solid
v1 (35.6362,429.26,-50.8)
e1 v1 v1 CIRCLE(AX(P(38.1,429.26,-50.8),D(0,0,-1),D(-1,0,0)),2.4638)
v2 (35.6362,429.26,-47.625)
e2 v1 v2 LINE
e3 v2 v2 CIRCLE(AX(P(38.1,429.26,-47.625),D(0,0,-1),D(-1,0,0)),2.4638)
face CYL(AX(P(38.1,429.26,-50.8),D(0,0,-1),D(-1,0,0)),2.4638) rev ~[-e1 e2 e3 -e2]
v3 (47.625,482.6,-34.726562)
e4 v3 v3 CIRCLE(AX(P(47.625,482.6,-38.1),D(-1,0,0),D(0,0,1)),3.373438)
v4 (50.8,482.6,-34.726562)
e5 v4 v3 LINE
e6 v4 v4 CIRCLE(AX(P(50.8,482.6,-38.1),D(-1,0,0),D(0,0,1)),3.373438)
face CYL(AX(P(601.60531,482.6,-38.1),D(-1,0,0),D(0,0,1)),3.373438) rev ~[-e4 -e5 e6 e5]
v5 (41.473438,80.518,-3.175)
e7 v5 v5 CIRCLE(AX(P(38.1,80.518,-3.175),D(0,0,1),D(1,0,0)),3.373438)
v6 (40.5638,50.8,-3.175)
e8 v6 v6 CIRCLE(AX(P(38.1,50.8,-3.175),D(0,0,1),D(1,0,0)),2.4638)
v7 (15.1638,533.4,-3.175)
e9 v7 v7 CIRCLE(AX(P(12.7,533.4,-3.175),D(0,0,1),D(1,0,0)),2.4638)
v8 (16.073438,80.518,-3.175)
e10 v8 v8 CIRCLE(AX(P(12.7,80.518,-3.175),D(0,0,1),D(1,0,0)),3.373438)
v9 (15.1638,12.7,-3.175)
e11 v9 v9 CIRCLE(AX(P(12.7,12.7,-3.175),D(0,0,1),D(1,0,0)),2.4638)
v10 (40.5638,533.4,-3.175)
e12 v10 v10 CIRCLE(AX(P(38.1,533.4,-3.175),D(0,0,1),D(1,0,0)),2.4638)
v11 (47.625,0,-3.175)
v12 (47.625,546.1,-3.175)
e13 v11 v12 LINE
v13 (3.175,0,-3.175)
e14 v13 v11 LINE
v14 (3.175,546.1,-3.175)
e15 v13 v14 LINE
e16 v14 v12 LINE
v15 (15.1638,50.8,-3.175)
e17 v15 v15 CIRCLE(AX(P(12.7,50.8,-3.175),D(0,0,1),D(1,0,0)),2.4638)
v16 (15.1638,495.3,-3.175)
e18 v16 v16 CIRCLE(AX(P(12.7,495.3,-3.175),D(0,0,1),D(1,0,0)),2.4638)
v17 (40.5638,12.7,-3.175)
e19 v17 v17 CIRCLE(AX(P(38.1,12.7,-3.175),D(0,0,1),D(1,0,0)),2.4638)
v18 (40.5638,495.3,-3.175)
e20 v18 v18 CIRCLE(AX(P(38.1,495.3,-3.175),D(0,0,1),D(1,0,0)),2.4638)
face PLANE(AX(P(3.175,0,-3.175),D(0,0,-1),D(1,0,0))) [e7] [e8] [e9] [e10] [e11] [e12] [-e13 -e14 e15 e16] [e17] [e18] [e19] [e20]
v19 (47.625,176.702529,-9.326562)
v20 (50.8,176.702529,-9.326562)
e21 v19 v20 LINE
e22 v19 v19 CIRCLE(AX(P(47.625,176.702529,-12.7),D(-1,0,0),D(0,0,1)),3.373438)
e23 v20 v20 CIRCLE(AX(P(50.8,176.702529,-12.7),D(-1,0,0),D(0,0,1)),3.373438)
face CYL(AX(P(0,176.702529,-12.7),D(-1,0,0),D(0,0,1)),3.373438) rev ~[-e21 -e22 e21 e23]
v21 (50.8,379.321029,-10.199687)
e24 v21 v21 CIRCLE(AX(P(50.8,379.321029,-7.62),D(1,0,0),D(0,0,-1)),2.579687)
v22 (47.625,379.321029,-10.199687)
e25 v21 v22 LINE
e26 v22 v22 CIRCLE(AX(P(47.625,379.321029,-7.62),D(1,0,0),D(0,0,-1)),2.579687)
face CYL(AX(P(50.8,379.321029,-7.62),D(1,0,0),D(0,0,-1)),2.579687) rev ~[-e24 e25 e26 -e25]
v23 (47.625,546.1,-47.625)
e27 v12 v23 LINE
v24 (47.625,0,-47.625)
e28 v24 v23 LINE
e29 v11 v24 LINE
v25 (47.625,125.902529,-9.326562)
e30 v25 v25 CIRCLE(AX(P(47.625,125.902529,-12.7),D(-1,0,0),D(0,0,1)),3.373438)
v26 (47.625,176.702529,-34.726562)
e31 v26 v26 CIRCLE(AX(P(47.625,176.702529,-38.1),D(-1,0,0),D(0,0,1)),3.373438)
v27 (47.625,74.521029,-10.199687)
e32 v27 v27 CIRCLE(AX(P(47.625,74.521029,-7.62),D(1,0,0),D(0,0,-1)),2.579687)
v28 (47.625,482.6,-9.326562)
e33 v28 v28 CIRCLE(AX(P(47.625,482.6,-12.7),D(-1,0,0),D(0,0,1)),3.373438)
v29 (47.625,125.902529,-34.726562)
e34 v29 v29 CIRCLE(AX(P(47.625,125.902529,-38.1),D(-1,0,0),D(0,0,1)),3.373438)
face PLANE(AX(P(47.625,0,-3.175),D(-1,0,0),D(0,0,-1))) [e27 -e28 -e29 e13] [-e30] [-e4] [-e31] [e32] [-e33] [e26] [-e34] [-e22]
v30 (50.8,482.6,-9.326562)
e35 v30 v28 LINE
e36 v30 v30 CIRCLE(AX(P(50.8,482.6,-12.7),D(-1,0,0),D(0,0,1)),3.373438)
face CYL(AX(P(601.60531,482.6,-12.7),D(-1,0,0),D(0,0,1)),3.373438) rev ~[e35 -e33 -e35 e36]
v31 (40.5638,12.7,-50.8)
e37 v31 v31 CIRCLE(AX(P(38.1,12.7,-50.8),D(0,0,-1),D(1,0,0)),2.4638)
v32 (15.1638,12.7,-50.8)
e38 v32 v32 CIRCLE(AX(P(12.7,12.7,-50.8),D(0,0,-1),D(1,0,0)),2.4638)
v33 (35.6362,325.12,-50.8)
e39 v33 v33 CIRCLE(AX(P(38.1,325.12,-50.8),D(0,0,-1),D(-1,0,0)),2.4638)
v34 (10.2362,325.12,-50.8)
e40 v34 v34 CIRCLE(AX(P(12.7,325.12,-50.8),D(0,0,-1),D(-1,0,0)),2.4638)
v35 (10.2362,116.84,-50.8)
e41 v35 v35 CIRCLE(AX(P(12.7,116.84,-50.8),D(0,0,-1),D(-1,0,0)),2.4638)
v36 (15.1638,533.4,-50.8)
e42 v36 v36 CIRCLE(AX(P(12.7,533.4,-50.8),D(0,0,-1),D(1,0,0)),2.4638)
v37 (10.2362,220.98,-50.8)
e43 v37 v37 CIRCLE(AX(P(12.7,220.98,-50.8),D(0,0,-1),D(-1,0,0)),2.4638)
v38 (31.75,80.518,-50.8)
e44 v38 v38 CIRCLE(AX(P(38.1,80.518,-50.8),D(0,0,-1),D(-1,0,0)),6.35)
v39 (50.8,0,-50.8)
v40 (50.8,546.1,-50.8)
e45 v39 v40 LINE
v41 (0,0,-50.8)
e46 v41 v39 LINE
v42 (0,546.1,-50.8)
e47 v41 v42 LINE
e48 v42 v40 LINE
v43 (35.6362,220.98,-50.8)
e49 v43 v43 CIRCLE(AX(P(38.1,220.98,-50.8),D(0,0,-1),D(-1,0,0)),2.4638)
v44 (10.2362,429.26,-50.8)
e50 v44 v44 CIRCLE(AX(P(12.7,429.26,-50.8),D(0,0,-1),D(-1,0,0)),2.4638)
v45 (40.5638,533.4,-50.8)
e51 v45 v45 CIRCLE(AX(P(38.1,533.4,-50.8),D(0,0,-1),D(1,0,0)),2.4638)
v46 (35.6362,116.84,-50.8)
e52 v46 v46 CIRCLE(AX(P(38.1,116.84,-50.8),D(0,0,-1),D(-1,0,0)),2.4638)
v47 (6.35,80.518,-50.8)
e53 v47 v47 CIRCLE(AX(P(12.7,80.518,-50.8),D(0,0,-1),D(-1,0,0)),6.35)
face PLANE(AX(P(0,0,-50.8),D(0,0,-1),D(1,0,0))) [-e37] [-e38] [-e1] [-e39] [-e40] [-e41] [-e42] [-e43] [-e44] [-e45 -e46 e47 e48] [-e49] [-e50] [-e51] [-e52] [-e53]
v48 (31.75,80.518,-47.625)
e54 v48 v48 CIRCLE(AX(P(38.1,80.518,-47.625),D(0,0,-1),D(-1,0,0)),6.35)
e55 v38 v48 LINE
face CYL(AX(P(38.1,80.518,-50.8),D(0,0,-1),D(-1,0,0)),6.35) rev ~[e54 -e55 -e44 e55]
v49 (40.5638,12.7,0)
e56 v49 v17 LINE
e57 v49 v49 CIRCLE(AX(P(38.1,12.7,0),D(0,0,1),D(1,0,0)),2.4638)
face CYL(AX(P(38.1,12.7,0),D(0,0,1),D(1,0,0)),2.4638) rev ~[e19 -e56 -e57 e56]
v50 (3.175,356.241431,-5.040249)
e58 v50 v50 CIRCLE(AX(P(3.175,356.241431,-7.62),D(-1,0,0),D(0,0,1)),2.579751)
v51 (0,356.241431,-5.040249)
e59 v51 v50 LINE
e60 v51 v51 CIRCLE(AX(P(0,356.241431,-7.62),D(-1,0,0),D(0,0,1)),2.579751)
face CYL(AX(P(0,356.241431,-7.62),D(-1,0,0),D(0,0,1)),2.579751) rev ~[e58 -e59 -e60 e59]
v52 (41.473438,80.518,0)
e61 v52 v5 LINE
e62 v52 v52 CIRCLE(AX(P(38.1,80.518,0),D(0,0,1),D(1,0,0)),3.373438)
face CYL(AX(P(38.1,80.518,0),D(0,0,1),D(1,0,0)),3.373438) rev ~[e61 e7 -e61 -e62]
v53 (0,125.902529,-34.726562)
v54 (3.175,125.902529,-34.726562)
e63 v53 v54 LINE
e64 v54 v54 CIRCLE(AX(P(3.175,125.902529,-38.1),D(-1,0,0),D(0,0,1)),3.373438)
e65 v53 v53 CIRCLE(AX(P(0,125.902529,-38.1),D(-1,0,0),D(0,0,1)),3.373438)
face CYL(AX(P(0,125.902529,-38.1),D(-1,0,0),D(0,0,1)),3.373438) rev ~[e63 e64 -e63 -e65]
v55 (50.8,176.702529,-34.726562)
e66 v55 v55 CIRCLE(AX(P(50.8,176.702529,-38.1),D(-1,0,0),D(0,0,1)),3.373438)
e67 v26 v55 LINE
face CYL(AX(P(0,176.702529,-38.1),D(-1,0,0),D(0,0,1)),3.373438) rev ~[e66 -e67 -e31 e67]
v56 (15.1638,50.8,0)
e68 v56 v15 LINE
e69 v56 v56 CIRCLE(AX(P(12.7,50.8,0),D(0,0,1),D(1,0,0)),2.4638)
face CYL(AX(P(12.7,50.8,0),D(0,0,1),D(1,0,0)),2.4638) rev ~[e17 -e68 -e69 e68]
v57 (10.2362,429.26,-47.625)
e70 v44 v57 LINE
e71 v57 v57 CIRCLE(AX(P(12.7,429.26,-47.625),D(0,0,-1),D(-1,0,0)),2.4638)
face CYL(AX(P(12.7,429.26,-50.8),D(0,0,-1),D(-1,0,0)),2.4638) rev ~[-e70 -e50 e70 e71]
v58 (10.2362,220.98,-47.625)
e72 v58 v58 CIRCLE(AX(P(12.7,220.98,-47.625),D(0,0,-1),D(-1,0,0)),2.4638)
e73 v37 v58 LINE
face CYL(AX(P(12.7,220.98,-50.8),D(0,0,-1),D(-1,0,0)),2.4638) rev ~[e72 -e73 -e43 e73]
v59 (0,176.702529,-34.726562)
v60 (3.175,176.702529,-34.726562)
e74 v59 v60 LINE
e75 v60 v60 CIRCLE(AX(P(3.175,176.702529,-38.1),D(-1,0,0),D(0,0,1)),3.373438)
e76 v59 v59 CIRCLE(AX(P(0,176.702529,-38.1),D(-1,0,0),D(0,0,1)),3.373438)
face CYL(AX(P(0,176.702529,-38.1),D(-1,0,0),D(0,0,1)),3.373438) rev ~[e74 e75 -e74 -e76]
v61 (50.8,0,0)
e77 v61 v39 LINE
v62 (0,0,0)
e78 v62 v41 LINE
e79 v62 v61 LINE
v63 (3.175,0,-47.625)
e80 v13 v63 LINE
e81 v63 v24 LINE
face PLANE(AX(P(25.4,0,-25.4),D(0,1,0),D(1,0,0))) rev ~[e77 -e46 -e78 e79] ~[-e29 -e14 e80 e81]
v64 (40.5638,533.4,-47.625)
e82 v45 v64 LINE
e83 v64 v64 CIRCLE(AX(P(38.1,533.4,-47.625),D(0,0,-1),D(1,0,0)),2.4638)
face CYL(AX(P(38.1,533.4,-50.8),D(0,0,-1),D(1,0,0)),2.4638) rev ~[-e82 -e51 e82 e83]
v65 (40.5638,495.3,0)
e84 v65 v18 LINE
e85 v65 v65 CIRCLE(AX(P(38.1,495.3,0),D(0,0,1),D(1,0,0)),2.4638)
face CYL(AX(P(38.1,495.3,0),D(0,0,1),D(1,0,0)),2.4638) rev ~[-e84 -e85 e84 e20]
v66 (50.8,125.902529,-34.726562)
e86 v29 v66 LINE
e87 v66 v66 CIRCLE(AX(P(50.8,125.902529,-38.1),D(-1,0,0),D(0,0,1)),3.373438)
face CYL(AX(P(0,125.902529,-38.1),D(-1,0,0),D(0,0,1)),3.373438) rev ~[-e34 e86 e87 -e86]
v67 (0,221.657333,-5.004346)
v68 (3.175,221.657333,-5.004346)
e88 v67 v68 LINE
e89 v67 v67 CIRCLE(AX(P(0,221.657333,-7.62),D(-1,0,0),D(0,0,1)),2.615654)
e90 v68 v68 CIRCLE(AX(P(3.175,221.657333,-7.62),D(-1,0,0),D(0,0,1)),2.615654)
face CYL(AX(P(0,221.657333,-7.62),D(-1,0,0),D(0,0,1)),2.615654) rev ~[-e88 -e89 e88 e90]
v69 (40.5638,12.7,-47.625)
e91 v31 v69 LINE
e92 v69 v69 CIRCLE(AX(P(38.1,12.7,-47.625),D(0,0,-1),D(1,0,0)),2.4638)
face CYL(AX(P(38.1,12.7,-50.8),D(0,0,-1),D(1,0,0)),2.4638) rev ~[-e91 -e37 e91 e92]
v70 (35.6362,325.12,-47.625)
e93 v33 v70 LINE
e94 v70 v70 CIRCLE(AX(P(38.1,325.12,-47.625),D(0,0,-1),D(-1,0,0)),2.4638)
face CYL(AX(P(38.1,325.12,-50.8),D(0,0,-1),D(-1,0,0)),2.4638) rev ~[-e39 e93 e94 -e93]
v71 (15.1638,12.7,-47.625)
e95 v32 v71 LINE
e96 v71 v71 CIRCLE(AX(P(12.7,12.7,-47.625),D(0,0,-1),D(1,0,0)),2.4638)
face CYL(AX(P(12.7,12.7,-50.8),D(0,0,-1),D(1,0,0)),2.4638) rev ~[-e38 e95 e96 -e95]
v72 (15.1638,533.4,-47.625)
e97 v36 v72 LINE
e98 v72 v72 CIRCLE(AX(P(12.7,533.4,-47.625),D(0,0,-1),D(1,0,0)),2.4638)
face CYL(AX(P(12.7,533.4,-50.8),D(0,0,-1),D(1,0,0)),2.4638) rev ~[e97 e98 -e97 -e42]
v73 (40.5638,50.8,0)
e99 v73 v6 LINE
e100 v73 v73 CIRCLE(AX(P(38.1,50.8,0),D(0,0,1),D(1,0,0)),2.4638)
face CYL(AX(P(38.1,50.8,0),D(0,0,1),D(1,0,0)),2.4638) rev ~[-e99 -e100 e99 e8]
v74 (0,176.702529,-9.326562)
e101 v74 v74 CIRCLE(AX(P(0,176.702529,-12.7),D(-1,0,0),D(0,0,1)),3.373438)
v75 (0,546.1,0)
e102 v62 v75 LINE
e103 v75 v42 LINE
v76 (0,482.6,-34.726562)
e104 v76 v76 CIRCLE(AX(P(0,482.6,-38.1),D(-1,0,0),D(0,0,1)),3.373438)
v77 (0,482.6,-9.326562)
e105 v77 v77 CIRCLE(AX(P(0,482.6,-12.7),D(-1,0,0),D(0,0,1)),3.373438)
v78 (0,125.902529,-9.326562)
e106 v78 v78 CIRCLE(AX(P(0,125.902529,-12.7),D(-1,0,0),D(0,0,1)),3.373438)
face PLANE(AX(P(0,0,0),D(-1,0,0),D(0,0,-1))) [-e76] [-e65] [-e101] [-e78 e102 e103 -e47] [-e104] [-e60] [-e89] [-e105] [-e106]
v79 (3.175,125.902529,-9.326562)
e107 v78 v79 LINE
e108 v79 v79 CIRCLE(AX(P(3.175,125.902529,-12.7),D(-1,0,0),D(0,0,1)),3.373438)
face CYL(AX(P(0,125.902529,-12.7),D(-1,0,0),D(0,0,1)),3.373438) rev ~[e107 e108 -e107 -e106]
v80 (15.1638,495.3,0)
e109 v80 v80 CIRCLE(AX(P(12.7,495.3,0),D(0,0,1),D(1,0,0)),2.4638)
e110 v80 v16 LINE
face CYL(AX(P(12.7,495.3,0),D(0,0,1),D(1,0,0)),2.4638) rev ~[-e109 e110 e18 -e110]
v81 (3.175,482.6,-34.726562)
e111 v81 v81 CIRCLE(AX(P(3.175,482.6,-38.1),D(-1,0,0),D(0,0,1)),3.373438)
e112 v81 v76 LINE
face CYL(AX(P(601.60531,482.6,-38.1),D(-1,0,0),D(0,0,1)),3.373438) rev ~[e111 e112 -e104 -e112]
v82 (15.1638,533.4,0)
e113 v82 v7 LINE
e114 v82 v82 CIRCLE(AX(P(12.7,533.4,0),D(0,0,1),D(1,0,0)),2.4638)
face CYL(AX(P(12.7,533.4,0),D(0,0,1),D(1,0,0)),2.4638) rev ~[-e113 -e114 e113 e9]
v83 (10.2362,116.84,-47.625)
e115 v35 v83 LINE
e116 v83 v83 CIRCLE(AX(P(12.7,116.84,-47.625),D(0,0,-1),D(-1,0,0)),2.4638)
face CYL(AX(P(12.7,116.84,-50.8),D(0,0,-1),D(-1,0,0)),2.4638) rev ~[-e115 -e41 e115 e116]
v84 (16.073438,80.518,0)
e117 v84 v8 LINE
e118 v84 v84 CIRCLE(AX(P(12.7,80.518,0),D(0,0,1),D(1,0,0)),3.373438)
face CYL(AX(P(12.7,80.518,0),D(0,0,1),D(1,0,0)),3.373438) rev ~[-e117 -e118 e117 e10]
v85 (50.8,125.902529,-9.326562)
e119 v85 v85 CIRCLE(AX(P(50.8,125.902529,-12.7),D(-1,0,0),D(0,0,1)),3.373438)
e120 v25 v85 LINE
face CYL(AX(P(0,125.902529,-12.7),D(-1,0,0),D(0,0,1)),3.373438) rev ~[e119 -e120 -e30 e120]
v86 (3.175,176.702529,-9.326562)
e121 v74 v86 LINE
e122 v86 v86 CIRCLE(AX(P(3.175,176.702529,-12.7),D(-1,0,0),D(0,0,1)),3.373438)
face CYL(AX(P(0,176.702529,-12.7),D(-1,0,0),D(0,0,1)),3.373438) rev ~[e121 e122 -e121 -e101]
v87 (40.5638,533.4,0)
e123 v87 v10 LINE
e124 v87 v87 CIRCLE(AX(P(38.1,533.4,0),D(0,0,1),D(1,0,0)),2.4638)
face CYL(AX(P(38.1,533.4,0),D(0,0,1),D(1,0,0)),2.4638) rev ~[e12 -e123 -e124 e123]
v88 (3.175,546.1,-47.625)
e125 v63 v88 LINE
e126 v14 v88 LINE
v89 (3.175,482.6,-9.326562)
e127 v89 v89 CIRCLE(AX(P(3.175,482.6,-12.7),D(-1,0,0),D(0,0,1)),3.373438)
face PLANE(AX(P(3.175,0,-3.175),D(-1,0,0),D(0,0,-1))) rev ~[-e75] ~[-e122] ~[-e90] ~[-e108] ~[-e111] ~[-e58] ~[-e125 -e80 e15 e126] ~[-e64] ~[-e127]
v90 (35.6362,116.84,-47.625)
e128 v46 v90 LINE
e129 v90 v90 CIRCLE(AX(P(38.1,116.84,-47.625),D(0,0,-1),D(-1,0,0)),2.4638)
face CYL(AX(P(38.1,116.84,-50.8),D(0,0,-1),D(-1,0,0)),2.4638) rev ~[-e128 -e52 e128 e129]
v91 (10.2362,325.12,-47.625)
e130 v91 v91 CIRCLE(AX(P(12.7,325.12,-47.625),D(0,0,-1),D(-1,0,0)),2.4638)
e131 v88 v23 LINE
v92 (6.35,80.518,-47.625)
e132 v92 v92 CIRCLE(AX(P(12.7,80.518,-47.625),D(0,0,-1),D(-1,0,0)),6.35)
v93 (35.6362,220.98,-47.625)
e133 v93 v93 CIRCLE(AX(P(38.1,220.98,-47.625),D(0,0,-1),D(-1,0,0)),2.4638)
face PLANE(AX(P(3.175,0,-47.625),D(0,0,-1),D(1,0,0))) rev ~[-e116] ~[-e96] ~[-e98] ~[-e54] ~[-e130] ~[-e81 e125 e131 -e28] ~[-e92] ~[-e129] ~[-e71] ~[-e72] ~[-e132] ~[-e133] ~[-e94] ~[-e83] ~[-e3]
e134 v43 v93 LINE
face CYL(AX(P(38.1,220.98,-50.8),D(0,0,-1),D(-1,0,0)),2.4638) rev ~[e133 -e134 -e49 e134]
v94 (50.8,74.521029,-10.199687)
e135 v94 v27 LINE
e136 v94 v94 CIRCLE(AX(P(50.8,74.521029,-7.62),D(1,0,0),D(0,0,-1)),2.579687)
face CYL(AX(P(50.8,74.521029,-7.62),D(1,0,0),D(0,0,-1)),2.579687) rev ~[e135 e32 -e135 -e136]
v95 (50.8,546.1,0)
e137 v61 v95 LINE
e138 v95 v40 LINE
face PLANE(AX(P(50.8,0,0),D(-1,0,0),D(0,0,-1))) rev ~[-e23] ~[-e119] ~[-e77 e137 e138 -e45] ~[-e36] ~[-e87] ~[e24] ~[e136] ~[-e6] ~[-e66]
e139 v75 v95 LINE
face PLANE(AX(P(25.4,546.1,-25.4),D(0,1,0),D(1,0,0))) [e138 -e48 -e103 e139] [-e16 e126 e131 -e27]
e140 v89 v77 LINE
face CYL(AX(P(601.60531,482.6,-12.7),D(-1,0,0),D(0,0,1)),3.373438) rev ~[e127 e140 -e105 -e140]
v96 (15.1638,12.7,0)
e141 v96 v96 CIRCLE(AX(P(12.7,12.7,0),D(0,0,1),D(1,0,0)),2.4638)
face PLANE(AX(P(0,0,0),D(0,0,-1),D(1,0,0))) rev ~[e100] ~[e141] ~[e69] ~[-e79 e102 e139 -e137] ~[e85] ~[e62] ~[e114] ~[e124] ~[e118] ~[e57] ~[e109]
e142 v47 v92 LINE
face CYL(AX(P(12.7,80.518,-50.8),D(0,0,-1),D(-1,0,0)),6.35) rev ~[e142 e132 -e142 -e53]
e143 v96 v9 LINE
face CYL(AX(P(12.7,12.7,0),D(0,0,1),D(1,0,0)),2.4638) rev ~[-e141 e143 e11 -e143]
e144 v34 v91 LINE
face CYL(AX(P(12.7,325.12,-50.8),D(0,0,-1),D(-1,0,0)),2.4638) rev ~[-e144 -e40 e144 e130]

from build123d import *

# Parameters (mm, degrees)
SKETCH1_W                   = 50.8
SKETCH1_H                   = 50.8
SKETCH1_W_2                 = 44.45
SKETCH1_H_2                 = 44.45
BOSS_EXTRUDE1_DEPTH         = 546.1
CUT_EXTRUDE1_REACH          = 552.805
SKETCH2_R                   = 2.4638
CUT_EXTRUDE2_REACH          = 552.805
SKETCH3_R                   = 2.4638
F_1_4_0_25_DIAMETER_HOLE1_D = 6.746875
CUT_EXTRUDE3_REACH          = 552.805
SKETCH10_R                  = 2.579751
SKETCH10_R_2                = 2.61565382
SKETCH12_R                  = 3.3734375
CUT_EXTRUDE4_DEPTH          = 551.805310432
CUT_EXTRUDE5_REACH          = 552.805
SKETCH13_R                  = 2.5796875
SKETCH14_R                  = 3.3734375
CUT_EXTRUDE6_DEPTH          = 551.805310432
CUT_EXTRUDE7_REACH          = 552.805
SKETCH15_R                  = 6.35


with BuildPart() as part:
    # Sketch1 → Boss-Extrude1 (new body)
    with BuildSketch(Plane(origin=(0, 0, 0), x_dir=(1, 0, 0), z_dir=(0, 1, 0))):
        with Locations((25.4, 25.4)):
            Rectangle(SKETCH1_W, SKETCH1_H)
        with Locations((25.4, 25.4)):
            Rectangle(SKETCH1_W_2, SKETCH1_H_2, mode=Mode.SUBTRACT)
    extrude(amount=BOSS_EXTRUDE1_DEPTH)

    # Sketch2 → Cut-Extrude1 (cut, up to next)
    with BuildSketch(Plane.XY, mode=Mode.PRIVATE) as cut_extrude1_sk1:
        with Locations((38.1, 12.7)):
            Circle(SKETCH2_R)
    cut_extrude1_tool1 = extrude(cut_extrude1_sk1.sketch, amount=-CUT_EXTRUDE1_REACH, mode=Mode.PRIVATE) & part.part
    # Sketch2 → Cut-Extrude1 (cut, up to next)
    with BuildSketch(Plane.XY, mode=Mode.PRIVATE) as cut_extrude1_sk2:
        with Locations((12.7, 12.7)):
            Circle(SKETCH2_R)
    cut_extrude1_tool2 = extrude(cut_extrude1_sk2.sketch, amount=-CUT_EXTRUDE1_REACH, mode=Mode.PRIVATE) & part.part
    # Sketch2 → Cut-Extrude1 (cut, up to next)
    with BuildSketch(Plane.XY, mode=Mode.PRIVATE) as cut_extrude1_sk3:
        with Locations((12.7, 50.8)):
            Circle(SKETCH2_R)
    cut_extrude1_tool3 = extrude(cut_extrude1_sk3.sketch, amount=-CUT_EXTRUDE1_REACH, mode=Mode.PRIVATE) & part.part
    # Sketch2 → Cut-Extrude1 (cut, up to next)
    with BuildSketch(Plane.XY, mode=Mode.PRIVATE) as cut_extrude1_sk4:
        with Locations((38.1, 50.8)):
            Circle(SKETCH2_R)
    cut_extrude1_tool4 = extrude(cut_extrude1_sk4.sketch, amount=-CUT_EXTRUDE1_REACH, mode=Mode.PRIVATE) & part.part
    # Sketch2 → Cut-Extrude1 (cut, up to next)
    with BuildSketch(Plane.XY, mode=Mode.PRIVATE) as cut_extrude1_sk5:
        with Locations((38.1, 495.3)):
            Circle(SKETCH2_R)
    cut_extrude1_tool5 = extrude(cut_extrude1_sk5.sketch, amount=-CUT_EXTRUDE1_REACH, mode=Mode.PRIVATE) & part.part
    # Sketch2 → Cut-Extrude1 (cut, up to next)
    with BuildSketch(Plane.XY, mode=Mode.PRIVATE) as cut_extrude1_sk6:
        with Locations((12.7, 495.3)):
            Circle(SKETCH2_R)
    cut_extrude1_tool6 = extrude(cut_extrude1_sk6.sketch, amount=-CUT_EXTRUDE1_REACH, mode=Mode.PRIVATE) & part.part
    # Sketch2 → Cut-Extrude1 (cut, up to next)
    with BuildSketch(Plane.XY, mode=Mode.PRIVATE) as cut_extrude1_sk7:
        with Locations((12.7, 533.4)):
            Circle(SKETCH2_R)
    cut_extrude1_tool7 = extrude(cut_extrude1_sk7.sketch, amount=-CUT_EXTRUDE1_REACH, mode=Mode.PRIVATE) & part.part
    # Sketch2 → Cut-Extrude1 (cut, up to next)
    with BuildSketch(Plane.XY, mode=Mode.PRIVATE) as cut_extrude1_sk8:
        with Locations((38.1, 533.4)):
            Circle(SKETCH2_R)
    cut_extrude1_tool8 = extrude(cut_extrude1_sk8.sketch, amount=-CUT_EXTRUDE1_REACH, mode=Mode.PRIVATE) & part.part
    add(cut_extrude1_tool1.solids().sort_by_distance((38.1, 12.7, 0))[0], mode=Mode.SUBTRACT)
    add(cut_extrude1_tool2.solids().sort_by_distance((12.7, 12.7, 0))[0], mode=Mode.SUBTRACT)
    add(cut_extrude1_tool3.solids().sort_by_distance((12.7, 50.8, 0))[0], mode=Mode.SUBTRACT)
    add(cut_extrude1_tool4.solids().sort_by_distance((38.1, 50.8, 0))[0], mode=Mode.SUBTRACT)
    add(cut_extrude1_tool5.solids().sort_by_distance((38.1, 495.3, 0))[0], mode=Mode.SUBTRACT)
    add(cut_extrude1_tool6.solids().sort_by_distance((12.7, 495.3, 0))[0], mode=Mode.SUBTRACT)
    add(cut_extrude1_tool7.solids().sort_by_distance((12.7, 533.4, 0))[0], mode=Mode.SUBTRACT)
    add(cut_extrude1_tool8.solids().sort_by_distance((38.1, 533.4, 0))[0], mode=Mode.SUBTRACT)

    # Sketch3 → Cut-Extrude2 (cut, up to next)
    with BuildSketch(Plane(origin=(0, 0, -50.8), x_dir=(-1, 0, 0), z_dir=(0, 0, -1)), mode=Mode.PRIVATE) as cut_extrude2_sk1:
        with Locations(Location((-38.1, 533.4, 0), (0, 0, 180))):
            Circle(SKETCH3_R)
    cut_extrude2_tool1 = extrude(cut_extrude2_sk1.sketch, amount=-CUT_EXTRUDE2_REACH, mode=Mode.PRIVATE) & part.part
    # Sketch3 → Cut-Extrude2 (cut, up to next)
    with BuildSketch(Plane(origin=(0, 0, -50.8), x_dir=(-1, 0, 0), z_dir=(0, 0, -1)), mode=Mode.PRIVATE) as cut_extrude2_sk2:
        with Locations(Location((-12.7, 533.4, 0), (0, 0, 180))):
            Circle(SKETCH3_R)
    cut_extrude2_tool2 = extrude(cut_extrude2_sk2.sketch, amount=-CUT_EXTRUDE2_REACH, mode=Mode.PRIVATE) & part.part
    # Sketch3 → Cut-Extrude2 (cut, up to next)
    with BuildSketch(Plane(origin=(0, 0, -50.8), x_dir=(-1, 0, 0), z_dir=(0, 0, -1)), mode=Mode.PRIVATE) as cut_extrude2_sk3:
        with Locations((-38.1, 429.26)):
            Circle(SKETCH3_R)
    cut_extrude2_tool3 = extrude(cut_extrude2_sk3.sketch, amount=-CUT_EXTRUDE2_REACH, mode=Mode.PRIVATE) & part.part
    # Sketch3 → Cut-Extrude2 (cut, up to next)
    with BuildSketch(Plane(origin=(0, 0, -50.8), x_dir=(-1, 0, 0), z_dir=(0, 0, -1)), mode=Mode.PRIVATE) as cut_extrude2_sk4:
        with Locations((-12.7, 429.26)):
            Circle(SKETCH3_R)
    cut_extrude2_tool4 = extrude(cut_extrude2_sk4.sketch, amount=-CUT_EXTRUDE2_REACH, mode=Mode.PRIVATE) & part.part
    # Sketch3 → Cut-Extrude2 (cut, up to next)
    with BuildSketch(Plane(origin=(0, 0, -50.8), x_dir=(-1, 0, 0), z_dir=(0, 0, -1)), mode=Mode.PRIVATE) as cut_extrude2_sk5:
        with Locations((-38.1, 325.12)):
            Circle(SKETCH3_R)
    cut_extrude2_tool5 = extrude(cut_extrude2_sk5.sketch, amount=-CUT_EXTRUDE2_REACH, mode=Mode.PRIVATE) & part.part
    # Sketch3 → Cut-Extrude2 (cut, up to next)
    with BuildSketch(Plane(origin=(0, 0, -50.8), x_dir=(-1, 0, 0), z_dir=(0, 0, -1)), mode=Mode.PRIVATE) as cut_extrude2_sk6:
        with Locations((-12.7, 325.12)):
            Circle(SKETCH3_R)
    cut_extrude2_tool6 = extrude(cut_extrude2_sk6.sketch, amount=-CUT_EXTRUDE2_REACH, mode=Mode.PRIVATE) & part.part
    # Sketch3 → Cut-Extrude2 (cut, up to next)
    with BuildSketch(Plane(origin=(0, 0, -50.8), x_dir=(-1, 0, 0), z_dir=(0, 0, -1)), mode=Mode.PRIVATE) as cut_extrude2_sk7:
        with Locations((-38.1, 220.98)):
            Circle(SKETCH3_R)
    cut_extrude2_tool7 = extrude(cut_extrude2_sk7.sketch, amount=-CUT_EXTRUDE2_REACH, mode=Mode.PRIVATE) & part.part
    # Sketch3 → Cut-Extrude2 (cut, up to next)
    with BuildSketch(Plane(origin=(0, 0, -50.8), x_dir=(-1, 0, 0), z_dir=(0, 0, -1)), mode=Mode.PRIVATE) as cut_extrude2_sk8:
        with Locations((-12.7, 220.98)):
            Circle(SKETCH3_R)
    cut_extrude2_tool8 = extrude(cut_extrude2_sk8.sketch, amount=-CUT_EXTRUDE2_REACH, mode=Mode.PRIVATE) & part.part
    # Sketch3 → Cut-Extrude2 (cut, up to next)
    with BuildSketch(Plane(origin=(0, 0, -50.8), x_dir=(-1, 0, 0), z_dir=(0, 0, -1)), mode=Mode.PRIVATE) as cut_extrude2_sk9:
        with Locations((-38.1, 116.84)):
            Circle(SKETCH3_R)
    cut_extrude2_tool9 = extrude(cut_extrude2_sk9.sketch, amount=-CUT_EXTRUDE2_REACH, mode=Mode.PRIVATE) & part.part
    # Sketch3 → Cut-Extrude2 (cut, up to next)
    with BuildSketch(Plane(origin=(0, 0, -50.8), x_dir=(-1, 0, 0), z_dir=(0, 0, -1)), mode=Mode.PRIVATE) as cut_extrude2_sk10:
        with Locations((-12.7, 116.84)):
            Circle(SKETCH3_R)
    cut_extrude2_tool10 = extrude(cut_extrude2_sk10.sketch, amount=-CUT_EXTRUDE2_REACH, mode=Mode.PRIVATE) & part.part
    # Sketch3 → Cut-Extrude2 (cut, up to next)
    with BuildSketch(Plane(origin=(0, 0, -50.8), x_dir=(-1, 0, 0), z_dir=(0, 0, -1)), mode=Mode.PRIVATE) as cut_extrude2_sk11:
        with Locations(Location((-38.1, 12.7, 0), (0, 0, 180))):
            Circle(SKETCH3_R)
    cut_extrude2_tool11 = extrude(cut_extrude2_sk11.sketch, amount=-CUT_EXTRUDE2_REACH, mode=Mode.PRIVATE) & part.part
    # Sketch3 → Cut-Extrude2 (cut, up to next)
    with BuildSketch(Plane(origin=(0, 0, -50.8), x_dir=(-1, 0, 0), z_dir=(0, 0, -1)), mode=Mode.PRIVATE) as cut_extrude2_sk12:
        with Locations(Location((-12.7, 12.7, 0), (0, 0, 180))):
            Circle(SKETCH3_R)
    cut_extrude2_tool12 = extrude(cut_extrude2_sk12.sketch, amount=-CUT_EXTRUDE2_REACH, mode=Mode.PRIVATE) & part.part
    add(cut_extrude2_tool1.solids().sort_by_distance((38.1, 533.4, -50.8))[0], mode=Mode.SUBTRACT)
    add(cut_extrude2_tool2.solids().sort_by_distance((12.7, 533.4, -50.8))[0], mode=Mode.SUBTRACT)
    add(cut_extrude2_tool3.solids().sort_by_distance((38.1, 429.26, -50.8))[0], mode=Mode.SUBTRACT)
    add(cut_extrude2_tool4.solids().sort_by_distance((12.7, 429.26, -50.8))[0], mode=Mode.SUBTRACT)
    add(cut_extrude2_tool5.solids().sort_by_distance((38.1, 325.12, -50.8))[0], mode=Mode.SUBTRACT)
    add(cut_extrude2_tool6.solids().sort_by_distance((12.7, 325.12, -50.8))[0], mode=Mode.SUBTRACT)
    add(cut_extrude2_tool7.solids().sort_by_distance((38.1, 220.98, -50.8))[0], mode=Mode.SUBTRACT)
    add(cut_extrude2_tool8.solids().sort_by_distance((12.7, 220.98, -50.8))[0], mode=Mode.SUBTRACT)
    add(cut_extrude2_tool9.solids().sort_by_distance((38.1, 116.84, -50.8))[0], mode=Mode.SUBTRACT)
    add(cut_extrude2_tool10.solids().sort_by_distance((12.7, 116.84, -50.8))[0], mode=Mode.SUBTRACT)
    add(cut_extrude2_tool11.solids().sort_by_distance((38.1, 12.7, -50.8))[0], mode=Mode.SUBTRACT)
    add(cut_extrude2_tool12.solids().sort_by_distance((12.7, 12.7, -50.8))[0], mode=Mode.SUBTRACT)

    # 1/4 (0.25) Diameter Hole1 (through all)
    with Locations(Plane(origin=(50.8, 0, 0), x_dir=(0, 0, -1), z_dir=(1, 0, 0))):
        with Locations((12.7, 482.6), (38.1, 482.6)):
            Hole(F_1_4_0_25_DIAMETER_HOLE1_D / 2)

    # Sketch10 → Cut-Extrude3 (cut, up to next)
    with BuildSketch(Plane.ZY, mode=Mode.PRIVATE) as cut_extrude3_sk1:
        with Locations((-7.62, 356.241430513)):
            Circle(SKETCH10_R)
    cut_extrude3_tool1 = extrude(cut_extrude3_sk1.sketch, amount=-CUT_EXTRUDE3_REACH, mode=Mode.PRIVATE) & part.part
    # Sketch10 → Cut-Extrude3 (cut, up to next)
    with BuildSketch(Plane.ZY, mode=Mode.PRIVATE) as cut_extrude3_sk2:
        with Locations((-7.62, 221.657333333)):
            Circle(SKETCH10_R_2)
    cut_extrude3_tool2 = extrude(cut_extrude3_sk2.sketch, amount=-CUT_EXTRUDE3_REACH, mode=Mode.PRIVATE) & part.part
    add(cut_extrude3_tool1.solids().sort_by_distance((0, 356.241431, -7.62))[0], mode=Mode.SUBTRACT)
    add(cut_extrude3_tool2.solids().sort_by_distance((0, 221.657333, -7.62))[0], mode=Mode.SUBTRACT)

    # Sketch12 → Cut-Extrude4 (cut, through all)
    with BuildSketch(Plane.ZY):
        with Locations((-12.7, 176.702529248)):
            Circle(SKETCH12_R)
        with Locations((-12.7, 125.902529248)):
            Circle(SKETCH12_R)
        with Locations((-38.1, 125.902529248)):
            Circle(SKETCH12_R)
        with Locations((-38.1, 176.702529248)):
            Circle(SKETCH12_R)
    extrude(amount=-CUT_EXTRUDE4_DEPTH, mode=Mode.SUBTRACT)

    # Sketch13 → Cut-Extrude5 (cut, up to next)
    with BuildSketch(Plane(origin=(50.8, 0, 0), x_dir=(0, 0, -1), z_dir=(1, 0, 0)), mode=Mode.PRIVATE) as cut_extrude5_sk1:
        with Locations((7.62, 379.321029287)):
            Circle(SKETCH13_R)
    cut_extrude5_tool1 = extrude(cut_extrude5_sk1.sketch, amount=-CUT_EXTRUDE5_REACH, mode=Mode.PRIVATE) & part.part
    # Sketch13 → Cut-Extrude5 (cut, up to next)
    with BuildSketch(Plane(origin=(50.8, 0, 0), x_dir=(0, 0, -1), z_dir=(1, 0, 0)), mode=Mode.PRIVATE) as cut_extrude5_sk2:
        with Locations((7.62, 74.521029287)):
            Circle(SKETCH13_R)
    cut_extrude5_tool2 = extrude(cut_extrude5_sk2.sketch, amount=-CUT_EXTRUDE5_REACH, mode=Mode.PRIVATE) & part.part
    add(cut_extrude5_tool1.solids().sort_by_distance((50.8, 379.321029, -7.62))[0], mode=Mode.SUBTRACT)
    add(cut_extrude5_tool2.solids().sort_by_distance((50.8, 74.521029, -7.62))[0], mode=Mode.SUBTRACT)

    # Sketch14 → Cut-Extrude6 (cut, through all)
    with BuildSketch(Plane.XY):
        with Locations((12.7, 80.518)):
            Circle(SKETCH14_R)
        with Locations((38.1, 80.518)):
            Circle(SKETCH14_R)
    extrude(amount=-CUT_EXTRUDE6_DEPTH, mode=Mode.SUBTRACT)

    # Sketch15 → Cut-Extrude7 (cut, up to next)
    with BuildSketch(Plane(origin=(0, 0, -50.8), x_dir=(-1, 0, 0), z_dir=(0, 0, -1)), mode=Mode.PRIVATE) as cut_extrude7_sk1:
        with Locations((-38.1, 80.518)):
            Circle(SKETCH15_R)
    cut_extrude7_tool1 = extrude(cut_extrude7_sk1.sketch, amount=-CUT_EXTRUDE7_REACH, mode=Mode.PRIVATE) & part.part
    # Sketch15 → Cut-Extrude7 (cut, up to next)
    with BuildSketch(Plane(origin=(0, 0, -50.8), x_dir=(-1, 0, 0), z_dir=(0, 0, -1)), mode=Mode.PRIVATE) as cut_extrude7_sk2:
        with Locations((-12.7, 80.518)):
            Circle(SKETCH15_R)
    cut_extrude7_tool2 = extrude(cut_extrude7_sk2.sketch, amount=-CUT_EXTRUDE7_REACH, mode=Mode.PRIVATE) & part.part
    add(cut_extrude7_tool1.solids().sort_by_distance((38.1, 80.518, -50.8))[0], mode=Mode.SUBTRACT)
    add(cut_extrude7_tool2.solids().sort_by_distance((12.7, 80.518, -50.8))[0], mode=Mode.SUBTRACT)


solid = part.part
